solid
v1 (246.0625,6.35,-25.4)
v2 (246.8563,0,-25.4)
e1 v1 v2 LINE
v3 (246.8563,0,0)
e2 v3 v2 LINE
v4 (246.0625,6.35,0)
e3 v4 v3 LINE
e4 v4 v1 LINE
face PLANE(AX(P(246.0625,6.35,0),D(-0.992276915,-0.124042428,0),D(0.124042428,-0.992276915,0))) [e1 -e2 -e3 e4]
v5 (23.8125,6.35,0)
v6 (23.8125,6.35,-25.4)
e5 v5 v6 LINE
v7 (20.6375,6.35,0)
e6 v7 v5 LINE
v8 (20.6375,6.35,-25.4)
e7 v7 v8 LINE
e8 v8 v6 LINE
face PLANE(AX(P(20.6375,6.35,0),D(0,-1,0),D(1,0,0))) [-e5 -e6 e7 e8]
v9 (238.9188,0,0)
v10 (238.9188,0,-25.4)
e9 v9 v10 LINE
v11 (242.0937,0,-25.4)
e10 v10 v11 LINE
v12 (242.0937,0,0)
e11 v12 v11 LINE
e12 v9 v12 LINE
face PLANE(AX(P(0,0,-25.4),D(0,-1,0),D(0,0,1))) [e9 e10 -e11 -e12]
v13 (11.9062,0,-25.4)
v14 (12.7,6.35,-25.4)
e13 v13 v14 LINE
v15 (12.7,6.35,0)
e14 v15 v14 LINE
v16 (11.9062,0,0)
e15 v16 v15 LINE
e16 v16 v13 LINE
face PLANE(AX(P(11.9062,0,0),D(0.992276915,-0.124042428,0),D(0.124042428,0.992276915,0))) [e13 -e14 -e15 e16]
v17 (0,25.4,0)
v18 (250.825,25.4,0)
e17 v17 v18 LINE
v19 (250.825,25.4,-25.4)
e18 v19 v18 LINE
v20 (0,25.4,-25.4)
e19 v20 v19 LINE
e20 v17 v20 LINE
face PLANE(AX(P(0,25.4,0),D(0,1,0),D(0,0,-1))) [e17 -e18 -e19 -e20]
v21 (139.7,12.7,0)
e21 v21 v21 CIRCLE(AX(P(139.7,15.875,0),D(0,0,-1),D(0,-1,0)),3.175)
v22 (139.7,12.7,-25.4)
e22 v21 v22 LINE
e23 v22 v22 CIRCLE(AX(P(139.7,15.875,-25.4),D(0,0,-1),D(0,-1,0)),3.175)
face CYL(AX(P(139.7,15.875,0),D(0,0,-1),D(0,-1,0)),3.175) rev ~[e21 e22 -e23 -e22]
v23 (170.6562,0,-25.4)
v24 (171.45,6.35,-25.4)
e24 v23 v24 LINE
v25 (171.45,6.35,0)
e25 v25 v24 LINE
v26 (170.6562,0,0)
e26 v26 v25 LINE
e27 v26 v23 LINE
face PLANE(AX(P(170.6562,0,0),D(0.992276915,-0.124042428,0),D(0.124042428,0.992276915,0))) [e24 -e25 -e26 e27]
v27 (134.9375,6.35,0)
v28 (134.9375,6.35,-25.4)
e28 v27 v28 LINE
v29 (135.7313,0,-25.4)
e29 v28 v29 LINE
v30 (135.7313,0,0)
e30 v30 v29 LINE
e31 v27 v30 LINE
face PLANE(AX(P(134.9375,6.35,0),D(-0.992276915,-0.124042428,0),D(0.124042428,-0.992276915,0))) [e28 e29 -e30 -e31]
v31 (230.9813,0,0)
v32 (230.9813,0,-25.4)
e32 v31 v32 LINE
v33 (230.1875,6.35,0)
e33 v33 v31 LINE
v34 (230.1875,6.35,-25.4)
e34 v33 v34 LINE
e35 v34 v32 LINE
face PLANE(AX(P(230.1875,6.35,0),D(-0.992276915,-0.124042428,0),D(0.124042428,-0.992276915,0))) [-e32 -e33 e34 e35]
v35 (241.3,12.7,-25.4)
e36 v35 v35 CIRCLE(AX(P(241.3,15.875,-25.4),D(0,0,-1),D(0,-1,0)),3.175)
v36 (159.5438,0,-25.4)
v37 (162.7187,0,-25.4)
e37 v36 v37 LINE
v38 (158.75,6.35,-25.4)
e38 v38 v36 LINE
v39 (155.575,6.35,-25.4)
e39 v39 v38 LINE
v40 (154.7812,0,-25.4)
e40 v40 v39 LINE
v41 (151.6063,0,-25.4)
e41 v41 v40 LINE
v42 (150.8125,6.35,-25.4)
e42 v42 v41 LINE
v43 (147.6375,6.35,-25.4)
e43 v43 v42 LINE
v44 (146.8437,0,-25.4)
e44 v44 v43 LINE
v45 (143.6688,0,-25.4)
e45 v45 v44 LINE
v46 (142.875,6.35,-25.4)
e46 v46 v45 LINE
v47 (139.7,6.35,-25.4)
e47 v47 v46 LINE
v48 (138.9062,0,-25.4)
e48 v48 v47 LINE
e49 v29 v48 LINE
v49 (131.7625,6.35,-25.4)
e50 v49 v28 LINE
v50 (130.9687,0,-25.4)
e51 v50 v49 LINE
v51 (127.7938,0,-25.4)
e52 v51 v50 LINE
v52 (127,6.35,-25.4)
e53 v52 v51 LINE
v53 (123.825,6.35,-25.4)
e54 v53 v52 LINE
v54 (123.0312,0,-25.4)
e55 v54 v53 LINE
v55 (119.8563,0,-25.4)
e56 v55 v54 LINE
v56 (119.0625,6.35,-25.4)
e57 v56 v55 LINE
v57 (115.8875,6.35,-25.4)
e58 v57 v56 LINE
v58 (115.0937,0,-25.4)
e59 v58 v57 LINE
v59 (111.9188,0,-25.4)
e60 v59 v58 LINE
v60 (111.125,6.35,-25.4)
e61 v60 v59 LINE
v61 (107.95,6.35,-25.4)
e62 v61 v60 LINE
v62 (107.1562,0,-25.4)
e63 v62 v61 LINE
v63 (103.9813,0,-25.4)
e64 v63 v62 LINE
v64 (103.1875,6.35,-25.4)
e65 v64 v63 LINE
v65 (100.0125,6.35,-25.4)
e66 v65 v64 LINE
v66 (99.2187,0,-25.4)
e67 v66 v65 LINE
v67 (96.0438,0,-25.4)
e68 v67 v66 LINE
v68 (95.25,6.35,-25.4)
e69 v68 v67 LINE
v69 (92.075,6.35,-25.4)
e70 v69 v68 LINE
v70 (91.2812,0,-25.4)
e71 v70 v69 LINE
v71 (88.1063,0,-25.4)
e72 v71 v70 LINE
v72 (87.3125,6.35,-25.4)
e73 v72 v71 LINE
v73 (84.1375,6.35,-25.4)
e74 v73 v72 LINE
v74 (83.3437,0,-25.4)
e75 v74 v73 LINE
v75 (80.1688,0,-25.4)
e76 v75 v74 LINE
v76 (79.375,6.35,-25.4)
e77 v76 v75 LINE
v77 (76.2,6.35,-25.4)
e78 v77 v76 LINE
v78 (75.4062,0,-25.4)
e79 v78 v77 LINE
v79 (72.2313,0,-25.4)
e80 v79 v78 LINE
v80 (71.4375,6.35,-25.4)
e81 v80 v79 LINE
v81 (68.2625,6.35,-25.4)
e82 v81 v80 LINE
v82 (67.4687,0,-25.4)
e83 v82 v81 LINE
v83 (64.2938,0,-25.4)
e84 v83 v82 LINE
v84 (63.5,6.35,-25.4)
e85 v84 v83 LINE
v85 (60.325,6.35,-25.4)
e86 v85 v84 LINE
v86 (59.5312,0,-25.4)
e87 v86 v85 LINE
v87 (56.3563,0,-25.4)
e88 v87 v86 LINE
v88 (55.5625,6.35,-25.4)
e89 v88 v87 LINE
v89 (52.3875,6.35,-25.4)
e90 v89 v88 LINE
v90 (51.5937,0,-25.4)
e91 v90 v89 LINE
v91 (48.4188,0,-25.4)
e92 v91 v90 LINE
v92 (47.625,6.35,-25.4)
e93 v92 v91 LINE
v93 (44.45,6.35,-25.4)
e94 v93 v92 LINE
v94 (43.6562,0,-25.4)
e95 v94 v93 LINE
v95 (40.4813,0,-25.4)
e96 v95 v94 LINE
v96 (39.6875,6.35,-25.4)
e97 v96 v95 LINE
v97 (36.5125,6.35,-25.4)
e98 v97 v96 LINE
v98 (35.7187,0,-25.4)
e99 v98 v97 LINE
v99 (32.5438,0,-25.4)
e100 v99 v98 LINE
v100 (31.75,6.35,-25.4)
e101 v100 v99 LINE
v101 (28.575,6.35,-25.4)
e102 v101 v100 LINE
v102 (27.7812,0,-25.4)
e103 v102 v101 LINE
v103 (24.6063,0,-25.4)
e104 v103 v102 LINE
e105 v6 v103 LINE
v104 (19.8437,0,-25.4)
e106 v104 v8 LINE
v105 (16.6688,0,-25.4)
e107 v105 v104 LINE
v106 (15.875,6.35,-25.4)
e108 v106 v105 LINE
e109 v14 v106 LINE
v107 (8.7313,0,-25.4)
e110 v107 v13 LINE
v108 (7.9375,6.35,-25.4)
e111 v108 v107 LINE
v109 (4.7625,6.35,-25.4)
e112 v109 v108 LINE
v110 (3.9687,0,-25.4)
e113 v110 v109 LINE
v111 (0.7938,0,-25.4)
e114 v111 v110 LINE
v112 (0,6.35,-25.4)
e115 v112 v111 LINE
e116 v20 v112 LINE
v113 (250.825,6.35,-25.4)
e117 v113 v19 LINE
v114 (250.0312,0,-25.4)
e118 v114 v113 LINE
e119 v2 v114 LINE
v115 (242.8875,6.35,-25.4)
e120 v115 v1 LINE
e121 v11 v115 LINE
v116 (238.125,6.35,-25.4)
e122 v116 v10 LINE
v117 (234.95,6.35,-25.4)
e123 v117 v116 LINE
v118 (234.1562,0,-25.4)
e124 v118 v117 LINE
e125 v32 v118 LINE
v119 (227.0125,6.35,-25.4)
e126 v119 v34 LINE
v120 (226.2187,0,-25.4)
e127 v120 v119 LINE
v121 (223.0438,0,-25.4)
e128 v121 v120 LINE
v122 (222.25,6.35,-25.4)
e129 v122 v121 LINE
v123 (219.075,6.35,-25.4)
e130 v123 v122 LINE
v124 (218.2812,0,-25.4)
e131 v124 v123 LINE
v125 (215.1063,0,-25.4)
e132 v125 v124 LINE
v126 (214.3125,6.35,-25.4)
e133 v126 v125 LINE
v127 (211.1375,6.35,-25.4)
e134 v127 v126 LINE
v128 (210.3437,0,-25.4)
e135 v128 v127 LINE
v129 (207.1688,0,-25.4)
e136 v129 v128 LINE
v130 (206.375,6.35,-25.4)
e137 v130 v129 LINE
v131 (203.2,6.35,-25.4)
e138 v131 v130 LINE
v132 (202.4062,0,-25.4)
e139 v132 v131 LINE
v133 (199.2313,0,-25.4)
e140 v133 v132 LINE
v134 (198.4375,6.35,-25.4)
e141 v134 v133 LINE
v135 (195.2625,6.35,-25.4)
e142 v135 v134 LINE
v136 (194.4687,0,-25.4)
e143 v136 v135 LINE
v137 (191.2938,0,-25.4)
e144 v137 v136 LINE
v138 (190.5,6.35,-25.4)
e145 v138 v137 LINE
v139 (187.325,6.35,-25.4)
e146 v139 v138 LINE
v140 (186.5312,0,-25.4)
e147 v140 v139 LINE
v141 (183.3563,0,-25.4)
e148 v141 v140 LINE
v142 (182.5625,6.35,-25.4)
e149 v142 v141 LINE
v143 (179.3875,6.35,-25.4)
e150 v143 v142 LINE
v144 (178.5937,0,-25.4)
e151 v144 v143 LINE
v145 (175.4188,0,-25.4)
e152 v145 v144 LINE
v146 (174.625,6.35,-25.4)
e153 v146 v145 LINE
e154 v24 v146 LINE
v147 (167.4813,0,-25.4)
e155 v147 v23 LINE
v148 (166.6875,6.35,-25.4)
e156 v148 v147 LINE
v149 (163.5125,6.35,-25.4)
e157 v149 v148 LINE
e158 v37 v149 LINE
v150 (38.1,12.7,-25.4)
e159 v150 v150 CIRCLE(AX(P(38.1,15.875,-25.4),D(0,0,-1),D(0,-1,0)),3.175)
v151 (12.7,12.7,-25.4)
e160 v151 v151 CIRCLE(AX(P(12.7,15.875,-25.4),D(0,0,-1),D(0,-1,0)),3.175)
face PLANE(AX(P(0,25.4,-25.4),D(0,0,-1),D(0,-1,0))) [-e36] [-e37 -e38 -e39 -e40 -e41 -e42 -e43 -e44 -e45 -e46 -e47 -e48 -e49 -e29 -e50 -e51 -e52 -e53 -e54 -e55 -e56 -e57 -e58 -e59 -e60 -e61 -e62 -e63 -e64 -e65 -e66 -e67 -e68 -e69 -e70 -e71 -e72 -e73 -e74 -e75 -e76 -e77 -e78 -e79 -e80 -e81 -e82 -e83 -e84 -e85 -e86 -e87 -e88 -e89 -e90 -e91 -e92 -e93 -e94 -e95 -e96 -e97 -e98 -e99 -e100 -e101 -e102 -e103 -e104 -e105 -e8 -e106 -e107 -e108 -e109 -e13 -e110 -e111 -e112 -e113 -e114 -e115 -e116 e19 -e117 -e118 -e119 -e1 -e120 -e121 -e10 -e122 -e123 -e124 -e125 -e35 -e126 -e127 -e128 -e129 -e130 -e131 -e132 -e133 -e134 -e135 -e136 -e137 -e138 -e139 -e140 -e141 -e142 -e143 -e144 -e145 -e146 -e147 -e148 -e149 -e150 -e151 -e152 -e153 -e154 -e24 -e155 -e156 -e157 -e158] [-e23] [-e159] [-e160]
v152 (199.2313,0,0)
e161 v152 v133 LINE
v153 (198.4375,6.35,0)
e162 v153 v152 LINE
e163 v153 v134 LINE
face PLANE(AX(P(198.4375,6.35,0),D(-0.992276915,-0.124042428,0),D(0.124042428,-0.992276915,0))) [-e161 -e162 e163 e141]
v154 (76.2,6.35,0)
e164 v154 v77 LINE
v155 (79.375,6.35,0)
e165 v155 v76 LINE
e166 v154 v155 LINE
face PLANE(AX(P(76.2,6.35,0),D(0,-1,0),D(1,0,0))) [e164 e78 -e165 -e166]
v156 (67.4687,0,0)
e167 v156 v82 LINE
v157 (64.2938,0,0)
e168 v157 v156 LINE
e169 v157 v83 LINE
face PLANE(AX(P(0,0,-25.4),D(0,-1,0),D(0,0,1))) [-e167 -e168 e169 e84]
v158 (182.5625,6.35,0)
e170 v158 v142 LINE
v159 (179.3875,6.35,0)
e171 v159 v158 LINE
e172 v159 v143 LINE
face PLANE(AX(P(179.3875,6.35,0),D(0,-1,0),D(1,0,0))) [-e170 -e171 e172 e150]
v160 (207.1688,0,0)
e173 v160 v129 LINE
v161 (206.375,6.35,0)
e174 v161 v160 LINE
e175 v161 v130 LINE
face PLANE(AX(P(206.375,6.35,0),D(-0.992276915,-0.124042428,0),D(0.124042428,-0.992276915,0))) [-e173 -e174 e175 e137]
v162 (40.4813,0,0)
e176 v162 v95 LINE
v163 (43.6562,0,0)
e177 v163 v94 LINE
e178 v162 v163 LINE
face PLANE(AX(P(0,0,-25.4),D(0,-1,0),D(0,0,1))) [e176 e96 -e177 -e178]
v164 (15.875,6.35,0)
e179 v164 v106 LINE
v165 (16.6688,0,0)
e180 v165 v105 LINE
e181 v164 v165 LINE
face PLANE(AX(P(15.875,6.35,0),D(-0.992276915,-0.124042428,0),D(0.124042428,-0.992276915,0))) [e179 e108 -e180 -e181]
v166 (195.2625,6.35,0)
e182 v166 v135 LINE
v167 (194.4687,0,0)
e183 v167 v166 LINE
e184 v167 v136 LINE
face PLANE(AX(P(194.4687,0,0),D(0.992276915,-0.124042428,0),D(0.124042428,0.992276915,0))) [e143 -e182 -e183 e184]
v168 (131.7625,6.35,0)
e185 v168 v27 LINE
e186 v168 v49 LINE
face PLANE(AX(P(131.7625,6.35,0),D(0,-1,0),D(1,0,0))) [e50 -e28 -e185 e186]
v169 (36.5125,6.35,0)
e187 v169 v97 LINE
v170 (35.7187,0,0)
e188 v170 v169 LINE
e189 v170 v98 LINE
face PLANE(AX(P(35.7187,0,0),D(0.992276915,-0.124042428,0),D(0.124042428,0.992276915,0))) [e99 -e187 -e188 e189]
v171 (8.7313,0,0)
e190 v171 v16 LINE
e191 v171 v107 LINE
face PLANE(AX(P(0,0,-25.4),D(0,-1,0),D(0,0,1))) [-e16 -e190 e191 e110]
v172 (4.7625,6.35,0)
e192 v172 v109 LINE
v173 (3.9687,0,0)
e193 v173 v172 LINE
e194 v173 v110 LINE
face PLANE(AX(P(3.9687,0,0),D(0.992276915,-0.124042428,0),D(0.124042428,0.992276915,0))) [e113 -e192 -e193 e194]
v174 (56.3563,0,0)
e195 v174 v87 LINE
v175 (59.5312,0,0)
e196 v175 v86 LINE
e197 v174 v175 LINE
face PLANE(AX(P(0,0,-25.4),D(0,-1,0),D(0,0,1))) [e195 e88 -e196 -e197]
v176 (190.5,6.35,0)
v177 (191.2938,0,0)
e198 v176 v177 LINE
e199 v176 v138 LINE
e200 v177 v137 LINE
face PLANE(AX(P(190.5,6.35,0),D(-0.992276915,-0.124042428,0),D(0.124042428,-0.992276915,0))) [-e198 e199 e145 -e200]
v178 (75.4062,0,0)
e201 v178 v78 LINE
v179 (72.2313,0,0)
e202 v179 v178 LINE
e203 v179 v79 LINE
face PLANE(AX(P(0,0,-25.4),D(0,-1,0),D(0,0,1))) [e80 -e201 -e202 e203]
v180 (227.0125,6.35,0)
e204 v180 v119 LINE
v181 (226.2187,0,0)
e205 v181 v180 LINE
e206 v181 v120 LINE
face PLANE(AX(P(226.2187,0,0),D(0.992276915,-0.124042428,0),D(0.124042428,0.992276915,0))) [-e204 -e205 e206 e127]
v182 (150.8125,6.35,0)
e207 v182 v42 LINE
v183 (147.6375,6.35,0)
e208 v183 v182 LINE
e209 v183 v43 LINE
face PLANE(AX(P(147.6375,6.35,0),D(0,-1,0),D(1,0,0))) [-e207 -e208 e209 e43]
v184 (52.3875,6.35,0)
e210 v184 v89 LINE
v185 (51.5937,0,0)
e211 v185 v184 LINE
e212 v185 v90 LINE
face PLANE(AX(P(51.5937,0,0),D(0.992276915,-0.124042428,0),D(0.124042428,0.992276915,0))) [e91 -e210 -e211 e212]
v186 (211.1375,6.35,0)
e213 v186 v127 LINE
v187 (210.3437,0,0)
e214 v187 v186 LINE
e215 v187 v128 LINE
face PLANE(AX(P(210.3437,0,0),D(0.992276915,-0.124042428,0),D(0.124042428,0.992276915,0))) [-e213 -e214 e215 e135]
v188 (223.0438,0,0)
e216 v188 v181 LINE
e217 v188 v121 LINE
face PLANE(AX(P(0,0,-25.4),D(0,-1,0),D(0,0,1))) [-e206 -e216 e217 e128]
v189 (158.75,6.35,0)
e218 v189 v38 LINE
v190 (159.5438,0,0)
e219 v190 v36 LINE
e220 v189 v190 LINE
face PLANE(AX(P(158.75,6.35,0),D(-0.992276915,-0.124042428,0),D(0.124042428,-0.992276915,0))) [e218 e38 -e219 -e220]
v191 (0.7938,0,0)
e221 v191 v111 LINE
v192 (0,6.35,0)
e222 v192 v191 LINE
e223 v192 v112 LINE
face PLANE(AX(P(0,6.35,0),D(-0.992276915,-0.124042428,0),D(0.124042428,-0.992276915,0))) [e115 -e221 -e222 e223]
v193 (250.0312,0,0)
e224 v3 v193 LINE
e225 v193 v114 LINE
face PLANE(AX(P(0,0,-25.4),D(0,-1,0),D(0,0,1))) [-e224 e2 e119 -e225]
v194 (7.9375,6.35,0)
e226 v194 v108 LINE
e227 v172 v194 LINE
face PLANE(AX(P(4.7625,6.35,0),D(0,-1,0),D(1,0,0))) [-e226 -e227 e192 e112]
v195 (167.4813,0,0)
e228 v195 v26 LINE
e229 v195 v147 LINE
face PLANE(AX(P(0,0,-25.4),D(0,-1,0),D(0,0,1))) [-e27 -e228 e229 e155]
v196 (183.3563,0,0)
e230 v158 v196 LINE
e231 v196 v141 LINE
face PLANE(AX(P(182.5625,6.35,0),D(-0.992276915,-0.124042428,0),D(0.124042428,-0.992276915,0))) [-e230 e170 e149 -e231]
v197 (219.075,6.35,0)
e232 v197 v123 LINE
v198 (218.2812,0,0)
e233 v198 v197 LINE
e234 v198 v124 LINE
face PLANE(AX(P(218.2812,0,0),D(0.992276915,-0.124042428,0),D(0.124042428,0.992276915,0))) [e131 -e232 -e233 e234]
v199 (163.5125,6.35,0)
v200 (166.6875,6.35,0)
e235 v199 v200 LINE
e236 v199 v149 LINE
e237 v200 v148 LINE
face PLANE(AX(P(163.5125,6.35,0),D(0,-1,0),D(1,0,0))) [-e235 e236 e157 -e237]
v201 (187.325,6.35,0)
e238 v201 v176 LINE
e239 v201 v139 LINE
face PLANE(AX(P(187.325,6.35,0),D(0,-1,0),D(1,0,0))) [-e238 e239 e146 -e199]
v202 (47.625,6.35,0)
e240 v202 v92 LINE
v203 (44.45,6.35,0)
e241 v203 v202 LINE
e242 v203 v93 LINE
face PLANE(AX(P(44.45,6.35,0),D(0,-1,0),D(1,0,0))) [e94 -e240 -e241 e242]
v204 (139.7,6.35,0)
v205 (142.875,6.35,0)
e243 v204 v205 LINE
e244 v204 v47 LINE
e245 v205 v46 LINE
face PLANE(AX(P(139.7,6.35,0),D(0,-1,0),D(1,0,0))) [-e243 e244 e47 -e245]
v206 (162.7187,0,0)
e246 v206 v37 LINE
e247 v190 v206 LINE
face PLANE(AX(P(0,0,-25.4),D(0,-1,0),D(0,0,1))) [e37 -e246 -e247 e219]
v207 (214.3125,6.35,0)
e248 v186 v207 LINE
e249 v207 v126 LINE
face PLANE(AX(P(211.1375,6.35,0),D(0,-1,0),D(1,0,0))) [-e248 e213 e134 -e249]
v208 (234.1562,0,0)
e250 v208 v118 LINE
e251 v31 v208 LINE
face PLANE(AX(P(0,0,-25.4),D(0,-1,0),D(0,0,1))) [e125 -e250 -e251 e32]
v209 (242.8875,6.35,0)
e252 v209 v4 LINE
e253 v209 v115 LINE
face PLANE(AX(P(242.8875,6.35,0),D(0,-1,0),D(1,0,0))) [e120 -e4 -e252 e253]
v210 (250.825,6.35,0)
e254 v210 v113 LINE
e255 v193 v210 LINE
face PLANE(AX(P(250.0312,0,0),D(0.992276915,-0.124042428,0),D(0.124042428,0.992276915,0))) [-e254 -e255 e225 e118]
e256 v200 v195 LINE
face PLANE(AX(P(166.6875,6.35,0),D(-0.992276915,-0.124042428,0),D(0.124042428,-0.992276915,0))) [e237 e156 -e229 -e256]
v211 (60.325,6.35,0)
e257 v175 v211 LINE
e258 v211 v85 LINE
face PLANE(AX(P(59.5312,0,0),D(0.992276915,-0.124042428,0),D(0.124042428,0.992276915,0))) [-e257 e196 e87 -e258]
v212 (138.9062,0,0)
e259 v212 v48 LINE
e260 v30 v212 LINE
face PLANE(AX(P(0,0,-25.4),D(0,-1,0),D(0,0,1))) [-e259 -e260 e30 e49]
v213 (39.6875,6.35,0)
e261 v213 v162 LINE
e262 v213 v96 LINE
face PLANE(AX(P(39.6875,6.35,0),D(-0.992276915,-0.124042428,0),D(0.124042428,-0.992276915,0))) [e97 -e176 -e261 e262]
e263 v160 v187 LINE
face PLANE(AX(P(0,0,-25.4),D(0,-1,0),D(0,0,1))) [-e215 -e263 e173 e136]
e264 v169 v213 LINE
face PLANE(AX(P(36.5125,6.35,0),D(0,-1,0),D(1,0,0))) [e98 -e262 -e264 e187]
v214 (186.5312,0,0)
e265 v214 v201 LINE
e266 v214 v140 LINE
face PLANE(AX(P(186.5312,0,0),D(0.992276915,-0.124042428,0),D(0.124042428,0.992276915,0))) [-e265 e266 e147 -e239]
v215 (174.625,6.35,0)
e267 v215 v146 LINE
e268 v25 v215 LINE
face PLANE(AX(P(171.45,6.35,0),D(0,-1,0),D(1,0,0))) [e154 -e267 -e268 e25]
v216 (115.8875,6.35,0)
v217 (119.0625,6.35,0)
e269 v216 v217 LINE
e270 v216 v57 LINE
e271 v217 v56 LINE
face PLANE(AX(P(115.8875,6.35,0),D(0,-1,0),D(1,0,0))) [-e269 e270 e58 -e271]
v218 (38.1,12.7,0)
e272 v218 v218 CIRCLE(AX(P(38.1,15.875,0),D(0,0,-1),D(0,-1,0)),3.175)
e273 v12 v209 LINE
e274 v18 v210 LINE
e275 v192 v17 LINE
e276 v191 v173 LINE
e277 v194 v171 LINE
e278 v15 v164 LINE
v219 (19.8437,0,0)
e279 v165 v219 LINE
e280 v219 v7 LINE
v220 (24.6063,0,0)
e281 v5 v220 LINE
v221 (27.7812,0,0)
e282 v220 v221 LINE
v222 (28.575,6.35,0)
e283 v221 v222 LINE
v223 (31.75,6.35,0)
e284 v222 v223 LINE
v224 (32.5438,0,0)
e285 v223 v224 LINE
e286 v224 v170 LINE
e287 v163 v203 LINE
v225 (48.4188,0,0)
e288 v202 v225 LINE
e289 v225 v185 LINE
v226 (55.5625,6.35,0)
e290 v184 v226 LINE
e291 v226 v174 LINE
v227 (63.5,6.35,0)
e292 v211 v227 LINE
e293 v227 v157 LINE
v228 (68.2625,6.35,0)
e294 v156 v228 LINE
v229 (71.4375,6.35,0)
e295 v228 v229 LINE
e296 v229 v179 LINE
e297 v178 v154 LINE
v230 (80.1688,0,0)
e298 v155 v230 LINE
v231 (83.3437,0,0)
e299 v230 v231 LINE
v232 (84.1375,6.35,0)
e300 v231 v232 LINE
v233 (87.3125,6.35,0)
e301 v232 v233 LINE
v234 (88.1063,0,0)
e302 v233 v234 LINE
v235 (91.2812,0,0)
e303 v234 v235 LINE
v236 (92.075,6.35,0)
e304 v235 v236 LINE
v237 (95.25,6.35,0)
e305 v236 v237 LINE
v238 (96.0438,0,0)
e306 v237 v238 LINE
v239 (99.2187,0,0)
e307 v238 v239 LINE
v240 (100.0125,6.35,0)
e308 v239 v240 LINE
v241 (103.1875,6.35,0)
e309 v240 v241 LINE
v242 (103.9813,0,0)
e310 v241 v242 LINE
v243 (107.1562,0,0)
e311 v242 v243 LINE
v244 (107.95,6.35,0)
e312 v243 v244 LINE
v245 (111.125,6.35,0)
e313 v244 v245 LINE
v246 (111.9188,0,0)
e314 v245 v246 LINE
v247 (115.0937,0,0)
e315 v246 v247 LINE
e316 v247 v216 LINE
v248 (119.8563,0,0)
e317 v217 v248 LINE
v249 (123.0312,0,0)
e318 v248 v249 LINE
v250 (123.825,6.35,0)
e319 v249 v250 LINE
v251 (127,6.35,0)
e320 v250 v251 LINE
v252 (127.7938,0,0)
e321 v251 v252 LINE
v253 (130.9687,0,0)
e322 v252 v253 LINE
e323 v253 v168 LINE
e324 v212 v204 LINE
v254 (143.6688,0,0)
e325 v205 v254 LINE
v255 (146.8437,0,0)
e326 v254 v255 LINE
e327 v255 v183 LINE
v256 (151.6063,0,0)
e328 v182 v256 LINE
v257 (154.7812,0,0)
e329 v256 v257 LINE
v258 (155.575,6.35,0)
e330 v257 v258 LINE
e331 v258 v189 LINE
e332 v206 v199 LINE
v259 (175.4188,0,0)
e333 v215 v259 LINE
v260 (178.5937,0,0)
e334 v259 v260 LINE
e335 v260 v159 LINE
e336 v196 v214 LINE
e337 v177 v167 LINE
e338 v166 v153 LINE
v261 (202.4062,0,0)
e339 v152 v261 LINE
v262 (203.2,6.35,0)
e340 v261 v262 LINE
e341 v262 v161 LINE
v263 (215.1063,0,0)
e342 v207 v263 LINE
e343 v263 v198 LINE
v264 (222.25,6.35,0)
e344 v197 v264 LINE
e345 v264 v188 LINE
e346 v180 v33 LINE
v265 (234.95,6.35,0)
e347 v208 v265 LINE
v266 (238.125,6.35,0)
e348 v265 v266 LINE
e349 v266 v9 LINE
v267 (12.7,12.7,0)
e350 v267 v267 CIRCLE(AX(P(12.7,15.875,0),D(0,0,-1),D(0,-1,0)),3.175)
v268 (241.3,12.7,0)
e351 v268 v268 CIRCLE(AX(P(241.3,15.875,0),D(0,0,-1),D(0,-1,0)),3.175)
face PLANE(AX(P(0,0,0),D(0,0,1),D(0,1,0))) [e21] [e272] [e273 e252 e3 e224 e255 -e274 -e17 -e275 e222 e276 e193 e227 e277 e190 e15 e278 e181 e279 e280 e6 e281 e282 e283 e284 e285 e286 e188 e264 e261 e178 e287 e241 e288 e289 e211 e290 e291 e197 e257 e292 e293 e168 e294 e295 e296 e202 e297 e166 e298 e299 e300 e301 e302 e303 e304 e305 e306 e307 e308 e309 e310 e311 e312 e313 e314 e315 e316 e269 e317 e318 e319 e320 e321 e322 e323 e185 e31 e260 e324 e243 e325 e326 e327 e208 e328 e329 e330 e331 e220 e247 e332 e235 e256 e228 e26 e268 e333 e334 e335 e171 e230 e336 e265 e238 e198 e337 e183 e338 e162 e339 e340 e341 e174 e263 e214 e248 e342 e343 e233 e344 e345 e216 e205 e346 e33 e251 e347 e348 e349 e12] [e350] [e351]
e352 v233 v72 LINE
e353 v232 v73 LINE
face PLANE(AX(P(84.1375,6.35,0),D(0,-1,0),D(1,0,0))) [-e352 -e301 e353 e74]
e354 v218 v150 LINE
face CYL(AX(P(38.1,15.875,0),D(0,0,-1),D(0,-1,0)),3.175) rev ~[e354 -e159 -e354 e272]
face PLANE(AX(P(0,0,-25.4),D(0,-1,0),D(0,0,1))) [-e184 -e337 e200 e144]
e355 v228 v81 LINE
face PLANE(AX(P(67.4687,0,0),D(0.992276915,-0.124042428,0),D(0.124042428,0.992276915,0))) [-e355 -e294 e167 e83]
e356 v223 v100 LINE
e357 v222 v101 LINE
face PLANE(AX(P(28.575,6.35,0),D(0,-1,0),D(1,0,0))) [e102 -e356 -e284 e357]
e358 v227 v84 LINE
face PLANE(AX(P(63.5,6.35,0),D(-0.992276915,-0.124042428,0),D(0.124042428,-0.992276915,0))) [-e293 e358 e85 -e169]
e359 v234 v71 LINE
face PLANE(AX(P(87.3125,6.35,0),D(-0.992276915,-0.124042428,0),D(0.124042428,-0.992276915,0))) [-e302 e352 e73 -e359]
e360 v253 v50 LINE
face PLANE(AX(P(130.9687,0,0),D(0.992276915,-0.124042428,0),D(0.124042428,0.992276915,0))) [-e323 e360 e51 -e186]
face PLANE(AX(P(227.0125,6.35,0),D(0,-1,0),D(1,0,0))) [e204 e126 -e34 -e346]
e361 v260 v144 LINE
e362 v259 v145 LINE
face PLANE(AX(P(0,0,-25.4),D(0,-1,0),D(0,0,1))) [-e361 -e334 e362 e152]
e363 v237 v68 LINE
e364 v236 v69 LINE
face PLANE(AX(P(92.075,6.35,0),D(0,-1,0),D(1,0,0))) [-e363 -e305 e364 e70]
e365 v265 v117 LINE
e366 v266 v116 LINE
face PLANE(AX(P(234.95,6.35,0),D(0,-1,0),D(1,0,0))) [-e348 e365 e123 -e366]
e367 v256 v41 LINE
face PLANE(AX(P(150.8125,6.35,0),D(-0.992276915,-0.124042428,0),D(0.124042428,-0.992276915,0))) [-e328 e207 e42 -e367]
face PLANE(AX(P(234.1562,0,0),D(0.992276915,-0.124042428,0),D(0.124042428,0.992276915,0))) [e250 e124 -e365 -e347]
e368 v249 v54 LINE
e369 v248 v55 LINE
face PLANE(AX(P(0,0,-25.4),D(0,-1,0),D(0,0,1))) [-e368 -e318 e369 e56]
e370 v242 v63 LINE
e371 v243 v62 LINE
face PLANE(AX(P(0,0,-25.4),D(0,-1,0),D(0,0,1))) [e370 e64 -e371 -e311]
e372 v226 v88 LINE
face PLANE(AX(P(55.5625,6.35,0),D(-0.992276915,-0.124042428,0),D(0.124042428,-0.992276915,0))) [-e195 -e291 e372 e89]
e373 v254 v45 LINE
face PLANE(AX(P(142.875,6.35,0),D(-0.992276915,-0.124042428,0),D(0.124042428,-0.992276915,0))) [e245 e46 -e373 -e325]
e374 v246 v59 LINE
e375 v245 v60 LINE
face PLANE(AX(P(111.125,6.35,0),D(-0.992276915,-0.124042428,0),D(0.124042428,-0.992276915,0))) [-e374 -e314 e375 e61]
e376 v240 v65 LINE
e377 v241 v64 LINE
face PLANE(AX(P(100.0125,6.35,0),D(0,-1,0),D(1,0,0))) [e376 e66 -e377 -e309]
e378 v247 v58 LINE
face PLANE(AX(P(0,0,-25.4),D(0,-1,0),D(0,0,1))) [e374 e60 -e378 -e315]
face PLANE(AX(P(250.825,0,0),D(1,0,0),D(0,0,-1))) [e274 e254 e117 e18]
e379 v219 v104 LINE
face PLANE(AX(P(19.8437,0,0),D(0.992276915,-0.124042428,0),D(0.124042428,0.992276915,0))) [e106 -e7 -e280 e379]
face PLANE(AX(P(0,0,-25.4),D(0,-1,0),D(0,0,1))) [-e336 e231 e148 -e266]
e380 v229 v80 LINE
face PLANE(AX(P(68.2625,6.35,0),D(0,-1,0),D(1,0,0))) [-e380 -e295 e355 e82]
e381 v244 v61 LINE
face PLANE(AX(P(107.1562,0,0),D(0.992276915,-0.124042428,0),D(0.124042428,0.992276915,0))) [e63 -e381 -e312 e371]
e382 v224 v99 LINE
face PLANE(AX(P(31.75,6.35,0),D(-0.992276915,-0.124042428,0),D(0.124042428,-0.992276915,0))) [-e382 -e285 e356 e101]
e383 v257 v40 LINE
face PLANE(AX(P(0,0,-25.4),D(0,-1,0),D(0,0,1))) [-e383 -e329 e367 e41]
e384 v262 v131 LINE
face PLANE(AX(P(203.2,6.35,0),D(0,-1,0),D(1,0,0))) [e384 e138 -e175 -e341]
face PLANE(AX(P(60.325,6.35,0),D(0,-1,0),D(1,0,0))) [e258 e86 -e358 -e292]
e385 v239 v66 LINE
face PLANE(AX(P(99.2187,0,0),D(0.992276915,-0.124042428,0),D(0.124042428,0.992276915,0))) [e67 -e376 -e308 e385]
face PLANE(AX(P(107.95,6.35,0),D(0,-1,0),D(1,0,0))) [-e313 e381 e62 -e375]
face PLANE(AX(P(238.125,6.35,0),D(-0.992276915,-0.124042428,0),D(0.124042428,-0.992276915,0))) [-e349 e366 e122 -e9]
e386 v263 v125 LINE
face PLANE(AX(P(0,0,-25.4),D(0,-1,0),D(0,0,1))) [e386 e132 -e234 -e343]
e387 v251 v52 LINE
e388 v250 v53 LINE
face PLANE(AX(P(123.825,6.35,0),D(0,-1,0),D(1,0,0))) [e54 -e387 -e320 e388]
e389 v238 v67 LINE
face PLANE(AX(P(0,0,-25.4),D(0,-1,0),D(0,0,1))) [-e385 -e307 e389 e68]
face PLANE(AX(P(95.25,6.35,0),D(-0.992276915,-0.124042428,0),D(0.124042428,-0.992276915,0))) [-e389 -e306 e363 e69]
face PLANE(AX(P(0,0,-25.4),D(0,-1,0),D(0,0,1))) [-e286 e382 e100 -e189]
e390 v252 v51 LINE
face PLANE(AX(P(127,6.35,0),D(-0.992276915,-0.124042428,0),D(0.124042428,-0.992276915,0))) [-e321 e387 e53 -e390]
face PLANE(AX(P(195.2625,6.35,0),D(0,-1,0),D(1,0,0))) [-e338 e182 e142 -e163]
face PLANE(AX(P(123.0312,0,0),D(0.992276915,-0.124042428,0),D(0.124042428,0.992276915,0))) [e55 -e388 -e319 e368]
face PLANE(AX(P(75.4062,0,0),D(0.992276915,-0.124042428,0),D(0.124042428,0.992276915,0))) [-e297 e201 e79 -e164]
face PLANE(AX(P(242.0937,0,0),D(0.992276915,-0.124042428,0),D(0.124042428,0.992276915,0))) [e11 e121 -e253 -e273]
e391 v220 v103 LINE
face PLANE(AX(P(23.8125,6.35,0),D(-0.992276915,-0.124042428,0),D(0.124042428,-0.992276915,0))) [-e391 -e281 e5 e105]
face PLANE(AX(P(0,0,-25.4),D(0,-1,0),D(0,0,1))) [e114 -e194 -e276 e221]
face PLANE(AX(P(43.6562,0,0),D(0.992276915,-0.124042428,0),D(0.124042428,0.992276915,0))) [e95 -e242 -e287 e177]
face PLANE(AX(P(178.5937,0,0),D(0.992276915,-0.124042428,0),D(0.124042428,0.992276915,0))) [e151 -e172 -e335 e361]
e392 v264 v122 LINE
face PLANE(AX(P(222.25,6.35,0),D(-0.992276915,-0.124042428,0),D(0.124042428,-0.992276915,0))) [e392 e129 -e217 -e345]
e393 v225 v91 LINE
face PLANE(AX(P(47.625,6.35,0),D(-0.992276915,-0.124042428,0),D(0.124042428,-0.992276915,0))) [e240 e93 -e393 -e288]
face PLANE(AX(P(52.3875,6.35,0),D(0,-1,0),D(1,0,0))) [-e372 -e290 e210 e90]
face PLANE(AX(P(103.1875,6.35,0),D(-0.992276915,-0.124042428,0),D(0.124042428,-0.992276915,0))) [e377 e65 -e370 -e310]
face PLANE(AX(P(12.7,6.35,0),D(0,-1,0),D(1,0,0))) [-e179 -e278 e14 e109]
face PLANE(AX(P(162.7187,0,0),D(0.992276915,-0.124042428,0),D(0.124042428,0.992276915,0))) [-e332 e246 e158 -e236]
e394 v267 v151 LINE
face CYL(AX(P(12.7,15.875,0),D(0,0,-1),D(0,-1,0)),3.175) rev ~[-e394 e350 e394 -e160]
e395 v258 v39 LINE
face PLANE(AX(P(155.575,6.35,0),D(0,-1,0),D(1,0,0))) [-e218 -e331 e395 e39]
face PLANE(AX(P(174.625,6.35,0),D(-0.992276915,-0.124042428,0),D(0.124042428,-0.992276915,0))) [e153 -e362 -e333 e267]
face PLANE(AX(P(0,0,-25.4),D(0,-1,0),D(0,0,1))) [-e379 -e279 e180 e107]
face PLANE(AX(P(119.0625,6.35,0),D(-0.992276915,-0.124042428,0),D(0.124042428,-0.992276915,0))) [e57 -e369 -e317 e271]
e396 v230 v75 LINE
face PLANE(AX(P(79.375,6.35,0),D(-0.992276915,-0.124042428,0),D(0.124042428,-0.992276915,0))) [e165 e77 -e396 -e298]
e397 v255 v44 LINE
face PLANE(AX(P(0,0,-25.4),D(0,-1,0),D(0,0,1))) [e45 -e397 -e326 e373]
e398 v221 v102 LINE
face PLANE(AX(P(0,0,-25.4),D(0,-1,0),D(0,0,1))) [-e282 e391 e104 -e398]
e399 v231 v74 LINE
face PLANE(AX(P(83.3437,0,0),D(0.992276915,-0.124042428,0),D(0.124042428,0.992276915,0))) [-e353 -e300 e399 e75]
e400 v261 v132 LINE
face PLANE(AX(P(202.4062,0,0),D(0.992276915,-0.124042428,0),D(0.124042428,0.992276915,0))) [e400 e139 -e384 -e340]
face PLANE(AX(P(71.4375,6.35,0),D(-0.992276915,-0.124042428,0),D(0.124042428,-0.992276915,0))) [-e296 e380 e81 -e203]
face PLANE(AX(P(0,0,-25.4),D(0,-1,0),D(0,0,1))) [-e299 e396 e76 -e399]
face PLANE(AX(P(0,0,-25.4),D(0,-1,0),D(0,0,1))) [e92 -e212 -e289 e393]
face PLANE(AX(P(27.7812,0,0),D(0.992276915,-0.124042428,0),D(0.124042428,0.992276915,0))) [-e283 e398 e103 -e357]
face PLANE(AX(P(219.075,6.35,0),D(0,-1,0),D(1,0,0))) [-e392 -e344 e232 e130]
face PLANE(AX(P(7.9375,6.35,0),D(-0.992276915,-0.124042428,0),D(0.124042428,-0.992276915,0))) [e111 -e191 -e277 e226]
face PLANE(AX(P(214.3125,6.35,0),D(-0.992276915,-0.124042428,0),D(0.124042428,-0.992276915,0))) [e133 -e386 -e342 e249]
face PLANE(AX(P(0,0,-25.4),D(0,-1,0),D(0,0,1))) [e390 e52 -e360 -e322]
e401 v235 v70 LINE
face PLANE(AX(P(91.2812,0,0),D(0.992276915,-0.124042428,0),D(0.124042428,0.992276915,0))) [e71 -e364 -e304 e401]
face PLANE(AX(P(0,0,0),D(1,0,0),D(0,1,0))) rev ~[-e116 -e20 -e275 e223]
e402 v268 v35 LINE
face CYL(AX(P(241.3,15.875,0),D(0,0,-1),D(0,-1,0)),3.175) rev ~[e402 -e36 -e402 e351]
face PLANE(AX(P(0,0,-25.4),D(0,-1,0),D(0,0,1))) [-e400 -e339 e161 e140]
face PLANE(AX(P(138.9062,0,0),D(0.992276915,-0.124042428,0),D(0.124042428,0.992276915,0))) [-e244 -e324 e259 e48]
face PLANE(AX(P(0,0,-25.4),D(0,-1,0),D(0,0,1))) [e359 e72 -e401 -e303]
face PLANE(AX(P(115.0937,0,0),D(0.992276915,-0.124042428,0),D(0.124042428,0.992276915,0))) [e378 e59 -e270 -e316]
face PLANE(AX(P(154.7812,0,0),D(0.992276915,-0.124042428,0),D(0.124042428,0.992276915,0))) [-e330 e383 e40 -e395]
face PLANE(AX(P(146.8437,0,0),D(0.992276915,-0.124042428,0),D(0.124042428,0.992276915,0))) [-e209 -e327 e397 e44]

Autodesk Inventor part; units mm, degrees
ref_plane "YZ Plane" through (0, 0, 0) normal (1, 0, 0) x (0, 1, 0)
ref_plane "XZ Plane" through (0, 0, 0) normal (0, 1, 0) x (-1, 0, 0)
ref_plane "XY Plane" through (0, 0, 0) normal (0, 0, 1) x (1, 0, 0)
sketch "Sketch1" plane through (0, 0, 0) normal (1, 0, 0) x (0, 1, 0)
  line L0 (0, 0) -> (25.4, 0)
  line L1 (25.4, 0) -> (25.4, -25.4)
  line L2 (25.4, -25.4) -> (0, -25.4)
  line L3 (0, -25.4) -> (0, 0)
  dimension "d0" = 25.4
  dimension "d1" = 25.4
extrude "Extrusion1" add sketch "Sketch1" along normal blind 254
sketch "Sketch2" plane through (0, 0, 0) normal (0, 0, 1) x (1, 0, 0)
  line L0 (0, 0) -> (0, 25.4) projected
  line L1 (0, 0) -> (254, 0) projected
  line L2 (254, 25.4) -> (254, 0) projected
  line L3 (0, 25.4) -> (254, 25.4) projected
  line L4 (0, 0) -> (0.7938, 0) construction
  line L5 (0.7938, 0) -> (0.7937, 6.35) construction
  line L6 (0.7937, 6.35) -> (0, 6.35) construction
  line L7 (0, 6.35) -> (0, 0) construction
  line L8 (0.7937, 6.35) -> (3.9687, 6.35) construction
  line L9 (3.9687, 6.35) -> (3.9687, 0) construction
  line L10 (3.9687, 0) -> (0.7938, 0) construction
  line L11 (0.7938, 0) -> (0.7937, 6.35) construction
  line L12 (3.9687, 6.35) -> (4.7625, 6.35) construction
  line L13 (4.7625, 6.35) -> (4.7625, 0) construction
  line L14 (4.7625, 0) -> (3.9687, 0) construction
  line L15 (3.9687, 0) -> (3.9687, 6.35) construction
  line L16 (0, 6.35) -> (0.7938, 0)
  line L17 (0.7938, 0) -> (3.9687, 0)
  line L18 (4.7625, 6.35) -> (7.9375, 6.35) construction
  line L19 (7.9375, 6.35) -> (7.9375, 0) construction
  line L20 (7.9375, 0) -> (4.7625, 0) construction
  line L21 (4.7625, 0) -> (4.7625, 6.35) construction
  line L22 (3.9687, 0) -> (4.7625, 6.35)
  line L23 (4.7625, 6.35) -> (7.9375, 6.35)
  line L24 (7.9375, 6.35) -> (7.9375, 0)
  line L25 (0, 6.35) -> (0, 0)
  line L26 (0, 0) -> (0.7938, 0)
  line L27 (3.9687, 0) -> (7.9375, 0)
  dimension "d4" = 0.7937
  dimension "d5" = 6.35
  dimension "d6" = 3.175
  dimension "d7" = 6.35
  dimension "d8" = 0.7937
  dimension "d9" = 6.35
  dimension "d10" = 3.175
  dimension "d11" = 6.35
extrude "Extrusion3" cut sketch "Sketch2" against normal blind 25.4 contours L0 L16 L1 | L22 L23 L24 L1
pattern_linear "Rectangular Pattern2" count 32 spacing 7.9375 along (1, 0, 0) of "Extrusion3"
sketch "Sketch4" plane through (0, 25.4, 0) normal (0, 0, 1) x (1, 0, 0)
  line L0 (254, 0) -> (254, -25.4) projected
  line L1 (0, 0) -> (254, 0) projected
  line L2 (0, -19.05) -> (0, 0) projected
  point P0 (0, -25.4)
  point P1 (241.3, -9.525)
  point P2 (12.7, -9.525)
  point P3 (38.1, -9.525)
  point P4 (139.7, -9.525)
  dimension "d33" = 12.7
  dimension "d34" = 9.525
  dimension "d35" = 9.525
  dimension "d44" = 12.7
  dimension "d45" = 38.1
  dimension "d46" = 114.3
  dimension "d47" = 9.525
  dimension "d48" = 9.525
hole "Hole3" at (241.3, 15.875, 0) at (12.7, 15.875, 0) at (38.1, 15.875, 0) at (139.7, 15.875, 0) direction (0, 0, -1) diameter 6.35 end through all
sketch "Sketch5" plane through (254, 0, 0) normal (1, 0, 0) x (0, 0, -1)
  line L0 (0, 6.35) -> (25.4, 6.35) projected
  line L1 (25.4, 6.35) -> (25.4, 25.4) projected
  line L2 (25.4, 25.4) -> (0, 25.4) projected
  line L3 (0, 25.4) -> (0, 6.35) projected
  point P0 (0, 0)
extrude "Extrusion4" cut sketch "Sketch5" against normal blind 3.175
properties part number "rack" material "Nylon, molybdenum disulphide"
